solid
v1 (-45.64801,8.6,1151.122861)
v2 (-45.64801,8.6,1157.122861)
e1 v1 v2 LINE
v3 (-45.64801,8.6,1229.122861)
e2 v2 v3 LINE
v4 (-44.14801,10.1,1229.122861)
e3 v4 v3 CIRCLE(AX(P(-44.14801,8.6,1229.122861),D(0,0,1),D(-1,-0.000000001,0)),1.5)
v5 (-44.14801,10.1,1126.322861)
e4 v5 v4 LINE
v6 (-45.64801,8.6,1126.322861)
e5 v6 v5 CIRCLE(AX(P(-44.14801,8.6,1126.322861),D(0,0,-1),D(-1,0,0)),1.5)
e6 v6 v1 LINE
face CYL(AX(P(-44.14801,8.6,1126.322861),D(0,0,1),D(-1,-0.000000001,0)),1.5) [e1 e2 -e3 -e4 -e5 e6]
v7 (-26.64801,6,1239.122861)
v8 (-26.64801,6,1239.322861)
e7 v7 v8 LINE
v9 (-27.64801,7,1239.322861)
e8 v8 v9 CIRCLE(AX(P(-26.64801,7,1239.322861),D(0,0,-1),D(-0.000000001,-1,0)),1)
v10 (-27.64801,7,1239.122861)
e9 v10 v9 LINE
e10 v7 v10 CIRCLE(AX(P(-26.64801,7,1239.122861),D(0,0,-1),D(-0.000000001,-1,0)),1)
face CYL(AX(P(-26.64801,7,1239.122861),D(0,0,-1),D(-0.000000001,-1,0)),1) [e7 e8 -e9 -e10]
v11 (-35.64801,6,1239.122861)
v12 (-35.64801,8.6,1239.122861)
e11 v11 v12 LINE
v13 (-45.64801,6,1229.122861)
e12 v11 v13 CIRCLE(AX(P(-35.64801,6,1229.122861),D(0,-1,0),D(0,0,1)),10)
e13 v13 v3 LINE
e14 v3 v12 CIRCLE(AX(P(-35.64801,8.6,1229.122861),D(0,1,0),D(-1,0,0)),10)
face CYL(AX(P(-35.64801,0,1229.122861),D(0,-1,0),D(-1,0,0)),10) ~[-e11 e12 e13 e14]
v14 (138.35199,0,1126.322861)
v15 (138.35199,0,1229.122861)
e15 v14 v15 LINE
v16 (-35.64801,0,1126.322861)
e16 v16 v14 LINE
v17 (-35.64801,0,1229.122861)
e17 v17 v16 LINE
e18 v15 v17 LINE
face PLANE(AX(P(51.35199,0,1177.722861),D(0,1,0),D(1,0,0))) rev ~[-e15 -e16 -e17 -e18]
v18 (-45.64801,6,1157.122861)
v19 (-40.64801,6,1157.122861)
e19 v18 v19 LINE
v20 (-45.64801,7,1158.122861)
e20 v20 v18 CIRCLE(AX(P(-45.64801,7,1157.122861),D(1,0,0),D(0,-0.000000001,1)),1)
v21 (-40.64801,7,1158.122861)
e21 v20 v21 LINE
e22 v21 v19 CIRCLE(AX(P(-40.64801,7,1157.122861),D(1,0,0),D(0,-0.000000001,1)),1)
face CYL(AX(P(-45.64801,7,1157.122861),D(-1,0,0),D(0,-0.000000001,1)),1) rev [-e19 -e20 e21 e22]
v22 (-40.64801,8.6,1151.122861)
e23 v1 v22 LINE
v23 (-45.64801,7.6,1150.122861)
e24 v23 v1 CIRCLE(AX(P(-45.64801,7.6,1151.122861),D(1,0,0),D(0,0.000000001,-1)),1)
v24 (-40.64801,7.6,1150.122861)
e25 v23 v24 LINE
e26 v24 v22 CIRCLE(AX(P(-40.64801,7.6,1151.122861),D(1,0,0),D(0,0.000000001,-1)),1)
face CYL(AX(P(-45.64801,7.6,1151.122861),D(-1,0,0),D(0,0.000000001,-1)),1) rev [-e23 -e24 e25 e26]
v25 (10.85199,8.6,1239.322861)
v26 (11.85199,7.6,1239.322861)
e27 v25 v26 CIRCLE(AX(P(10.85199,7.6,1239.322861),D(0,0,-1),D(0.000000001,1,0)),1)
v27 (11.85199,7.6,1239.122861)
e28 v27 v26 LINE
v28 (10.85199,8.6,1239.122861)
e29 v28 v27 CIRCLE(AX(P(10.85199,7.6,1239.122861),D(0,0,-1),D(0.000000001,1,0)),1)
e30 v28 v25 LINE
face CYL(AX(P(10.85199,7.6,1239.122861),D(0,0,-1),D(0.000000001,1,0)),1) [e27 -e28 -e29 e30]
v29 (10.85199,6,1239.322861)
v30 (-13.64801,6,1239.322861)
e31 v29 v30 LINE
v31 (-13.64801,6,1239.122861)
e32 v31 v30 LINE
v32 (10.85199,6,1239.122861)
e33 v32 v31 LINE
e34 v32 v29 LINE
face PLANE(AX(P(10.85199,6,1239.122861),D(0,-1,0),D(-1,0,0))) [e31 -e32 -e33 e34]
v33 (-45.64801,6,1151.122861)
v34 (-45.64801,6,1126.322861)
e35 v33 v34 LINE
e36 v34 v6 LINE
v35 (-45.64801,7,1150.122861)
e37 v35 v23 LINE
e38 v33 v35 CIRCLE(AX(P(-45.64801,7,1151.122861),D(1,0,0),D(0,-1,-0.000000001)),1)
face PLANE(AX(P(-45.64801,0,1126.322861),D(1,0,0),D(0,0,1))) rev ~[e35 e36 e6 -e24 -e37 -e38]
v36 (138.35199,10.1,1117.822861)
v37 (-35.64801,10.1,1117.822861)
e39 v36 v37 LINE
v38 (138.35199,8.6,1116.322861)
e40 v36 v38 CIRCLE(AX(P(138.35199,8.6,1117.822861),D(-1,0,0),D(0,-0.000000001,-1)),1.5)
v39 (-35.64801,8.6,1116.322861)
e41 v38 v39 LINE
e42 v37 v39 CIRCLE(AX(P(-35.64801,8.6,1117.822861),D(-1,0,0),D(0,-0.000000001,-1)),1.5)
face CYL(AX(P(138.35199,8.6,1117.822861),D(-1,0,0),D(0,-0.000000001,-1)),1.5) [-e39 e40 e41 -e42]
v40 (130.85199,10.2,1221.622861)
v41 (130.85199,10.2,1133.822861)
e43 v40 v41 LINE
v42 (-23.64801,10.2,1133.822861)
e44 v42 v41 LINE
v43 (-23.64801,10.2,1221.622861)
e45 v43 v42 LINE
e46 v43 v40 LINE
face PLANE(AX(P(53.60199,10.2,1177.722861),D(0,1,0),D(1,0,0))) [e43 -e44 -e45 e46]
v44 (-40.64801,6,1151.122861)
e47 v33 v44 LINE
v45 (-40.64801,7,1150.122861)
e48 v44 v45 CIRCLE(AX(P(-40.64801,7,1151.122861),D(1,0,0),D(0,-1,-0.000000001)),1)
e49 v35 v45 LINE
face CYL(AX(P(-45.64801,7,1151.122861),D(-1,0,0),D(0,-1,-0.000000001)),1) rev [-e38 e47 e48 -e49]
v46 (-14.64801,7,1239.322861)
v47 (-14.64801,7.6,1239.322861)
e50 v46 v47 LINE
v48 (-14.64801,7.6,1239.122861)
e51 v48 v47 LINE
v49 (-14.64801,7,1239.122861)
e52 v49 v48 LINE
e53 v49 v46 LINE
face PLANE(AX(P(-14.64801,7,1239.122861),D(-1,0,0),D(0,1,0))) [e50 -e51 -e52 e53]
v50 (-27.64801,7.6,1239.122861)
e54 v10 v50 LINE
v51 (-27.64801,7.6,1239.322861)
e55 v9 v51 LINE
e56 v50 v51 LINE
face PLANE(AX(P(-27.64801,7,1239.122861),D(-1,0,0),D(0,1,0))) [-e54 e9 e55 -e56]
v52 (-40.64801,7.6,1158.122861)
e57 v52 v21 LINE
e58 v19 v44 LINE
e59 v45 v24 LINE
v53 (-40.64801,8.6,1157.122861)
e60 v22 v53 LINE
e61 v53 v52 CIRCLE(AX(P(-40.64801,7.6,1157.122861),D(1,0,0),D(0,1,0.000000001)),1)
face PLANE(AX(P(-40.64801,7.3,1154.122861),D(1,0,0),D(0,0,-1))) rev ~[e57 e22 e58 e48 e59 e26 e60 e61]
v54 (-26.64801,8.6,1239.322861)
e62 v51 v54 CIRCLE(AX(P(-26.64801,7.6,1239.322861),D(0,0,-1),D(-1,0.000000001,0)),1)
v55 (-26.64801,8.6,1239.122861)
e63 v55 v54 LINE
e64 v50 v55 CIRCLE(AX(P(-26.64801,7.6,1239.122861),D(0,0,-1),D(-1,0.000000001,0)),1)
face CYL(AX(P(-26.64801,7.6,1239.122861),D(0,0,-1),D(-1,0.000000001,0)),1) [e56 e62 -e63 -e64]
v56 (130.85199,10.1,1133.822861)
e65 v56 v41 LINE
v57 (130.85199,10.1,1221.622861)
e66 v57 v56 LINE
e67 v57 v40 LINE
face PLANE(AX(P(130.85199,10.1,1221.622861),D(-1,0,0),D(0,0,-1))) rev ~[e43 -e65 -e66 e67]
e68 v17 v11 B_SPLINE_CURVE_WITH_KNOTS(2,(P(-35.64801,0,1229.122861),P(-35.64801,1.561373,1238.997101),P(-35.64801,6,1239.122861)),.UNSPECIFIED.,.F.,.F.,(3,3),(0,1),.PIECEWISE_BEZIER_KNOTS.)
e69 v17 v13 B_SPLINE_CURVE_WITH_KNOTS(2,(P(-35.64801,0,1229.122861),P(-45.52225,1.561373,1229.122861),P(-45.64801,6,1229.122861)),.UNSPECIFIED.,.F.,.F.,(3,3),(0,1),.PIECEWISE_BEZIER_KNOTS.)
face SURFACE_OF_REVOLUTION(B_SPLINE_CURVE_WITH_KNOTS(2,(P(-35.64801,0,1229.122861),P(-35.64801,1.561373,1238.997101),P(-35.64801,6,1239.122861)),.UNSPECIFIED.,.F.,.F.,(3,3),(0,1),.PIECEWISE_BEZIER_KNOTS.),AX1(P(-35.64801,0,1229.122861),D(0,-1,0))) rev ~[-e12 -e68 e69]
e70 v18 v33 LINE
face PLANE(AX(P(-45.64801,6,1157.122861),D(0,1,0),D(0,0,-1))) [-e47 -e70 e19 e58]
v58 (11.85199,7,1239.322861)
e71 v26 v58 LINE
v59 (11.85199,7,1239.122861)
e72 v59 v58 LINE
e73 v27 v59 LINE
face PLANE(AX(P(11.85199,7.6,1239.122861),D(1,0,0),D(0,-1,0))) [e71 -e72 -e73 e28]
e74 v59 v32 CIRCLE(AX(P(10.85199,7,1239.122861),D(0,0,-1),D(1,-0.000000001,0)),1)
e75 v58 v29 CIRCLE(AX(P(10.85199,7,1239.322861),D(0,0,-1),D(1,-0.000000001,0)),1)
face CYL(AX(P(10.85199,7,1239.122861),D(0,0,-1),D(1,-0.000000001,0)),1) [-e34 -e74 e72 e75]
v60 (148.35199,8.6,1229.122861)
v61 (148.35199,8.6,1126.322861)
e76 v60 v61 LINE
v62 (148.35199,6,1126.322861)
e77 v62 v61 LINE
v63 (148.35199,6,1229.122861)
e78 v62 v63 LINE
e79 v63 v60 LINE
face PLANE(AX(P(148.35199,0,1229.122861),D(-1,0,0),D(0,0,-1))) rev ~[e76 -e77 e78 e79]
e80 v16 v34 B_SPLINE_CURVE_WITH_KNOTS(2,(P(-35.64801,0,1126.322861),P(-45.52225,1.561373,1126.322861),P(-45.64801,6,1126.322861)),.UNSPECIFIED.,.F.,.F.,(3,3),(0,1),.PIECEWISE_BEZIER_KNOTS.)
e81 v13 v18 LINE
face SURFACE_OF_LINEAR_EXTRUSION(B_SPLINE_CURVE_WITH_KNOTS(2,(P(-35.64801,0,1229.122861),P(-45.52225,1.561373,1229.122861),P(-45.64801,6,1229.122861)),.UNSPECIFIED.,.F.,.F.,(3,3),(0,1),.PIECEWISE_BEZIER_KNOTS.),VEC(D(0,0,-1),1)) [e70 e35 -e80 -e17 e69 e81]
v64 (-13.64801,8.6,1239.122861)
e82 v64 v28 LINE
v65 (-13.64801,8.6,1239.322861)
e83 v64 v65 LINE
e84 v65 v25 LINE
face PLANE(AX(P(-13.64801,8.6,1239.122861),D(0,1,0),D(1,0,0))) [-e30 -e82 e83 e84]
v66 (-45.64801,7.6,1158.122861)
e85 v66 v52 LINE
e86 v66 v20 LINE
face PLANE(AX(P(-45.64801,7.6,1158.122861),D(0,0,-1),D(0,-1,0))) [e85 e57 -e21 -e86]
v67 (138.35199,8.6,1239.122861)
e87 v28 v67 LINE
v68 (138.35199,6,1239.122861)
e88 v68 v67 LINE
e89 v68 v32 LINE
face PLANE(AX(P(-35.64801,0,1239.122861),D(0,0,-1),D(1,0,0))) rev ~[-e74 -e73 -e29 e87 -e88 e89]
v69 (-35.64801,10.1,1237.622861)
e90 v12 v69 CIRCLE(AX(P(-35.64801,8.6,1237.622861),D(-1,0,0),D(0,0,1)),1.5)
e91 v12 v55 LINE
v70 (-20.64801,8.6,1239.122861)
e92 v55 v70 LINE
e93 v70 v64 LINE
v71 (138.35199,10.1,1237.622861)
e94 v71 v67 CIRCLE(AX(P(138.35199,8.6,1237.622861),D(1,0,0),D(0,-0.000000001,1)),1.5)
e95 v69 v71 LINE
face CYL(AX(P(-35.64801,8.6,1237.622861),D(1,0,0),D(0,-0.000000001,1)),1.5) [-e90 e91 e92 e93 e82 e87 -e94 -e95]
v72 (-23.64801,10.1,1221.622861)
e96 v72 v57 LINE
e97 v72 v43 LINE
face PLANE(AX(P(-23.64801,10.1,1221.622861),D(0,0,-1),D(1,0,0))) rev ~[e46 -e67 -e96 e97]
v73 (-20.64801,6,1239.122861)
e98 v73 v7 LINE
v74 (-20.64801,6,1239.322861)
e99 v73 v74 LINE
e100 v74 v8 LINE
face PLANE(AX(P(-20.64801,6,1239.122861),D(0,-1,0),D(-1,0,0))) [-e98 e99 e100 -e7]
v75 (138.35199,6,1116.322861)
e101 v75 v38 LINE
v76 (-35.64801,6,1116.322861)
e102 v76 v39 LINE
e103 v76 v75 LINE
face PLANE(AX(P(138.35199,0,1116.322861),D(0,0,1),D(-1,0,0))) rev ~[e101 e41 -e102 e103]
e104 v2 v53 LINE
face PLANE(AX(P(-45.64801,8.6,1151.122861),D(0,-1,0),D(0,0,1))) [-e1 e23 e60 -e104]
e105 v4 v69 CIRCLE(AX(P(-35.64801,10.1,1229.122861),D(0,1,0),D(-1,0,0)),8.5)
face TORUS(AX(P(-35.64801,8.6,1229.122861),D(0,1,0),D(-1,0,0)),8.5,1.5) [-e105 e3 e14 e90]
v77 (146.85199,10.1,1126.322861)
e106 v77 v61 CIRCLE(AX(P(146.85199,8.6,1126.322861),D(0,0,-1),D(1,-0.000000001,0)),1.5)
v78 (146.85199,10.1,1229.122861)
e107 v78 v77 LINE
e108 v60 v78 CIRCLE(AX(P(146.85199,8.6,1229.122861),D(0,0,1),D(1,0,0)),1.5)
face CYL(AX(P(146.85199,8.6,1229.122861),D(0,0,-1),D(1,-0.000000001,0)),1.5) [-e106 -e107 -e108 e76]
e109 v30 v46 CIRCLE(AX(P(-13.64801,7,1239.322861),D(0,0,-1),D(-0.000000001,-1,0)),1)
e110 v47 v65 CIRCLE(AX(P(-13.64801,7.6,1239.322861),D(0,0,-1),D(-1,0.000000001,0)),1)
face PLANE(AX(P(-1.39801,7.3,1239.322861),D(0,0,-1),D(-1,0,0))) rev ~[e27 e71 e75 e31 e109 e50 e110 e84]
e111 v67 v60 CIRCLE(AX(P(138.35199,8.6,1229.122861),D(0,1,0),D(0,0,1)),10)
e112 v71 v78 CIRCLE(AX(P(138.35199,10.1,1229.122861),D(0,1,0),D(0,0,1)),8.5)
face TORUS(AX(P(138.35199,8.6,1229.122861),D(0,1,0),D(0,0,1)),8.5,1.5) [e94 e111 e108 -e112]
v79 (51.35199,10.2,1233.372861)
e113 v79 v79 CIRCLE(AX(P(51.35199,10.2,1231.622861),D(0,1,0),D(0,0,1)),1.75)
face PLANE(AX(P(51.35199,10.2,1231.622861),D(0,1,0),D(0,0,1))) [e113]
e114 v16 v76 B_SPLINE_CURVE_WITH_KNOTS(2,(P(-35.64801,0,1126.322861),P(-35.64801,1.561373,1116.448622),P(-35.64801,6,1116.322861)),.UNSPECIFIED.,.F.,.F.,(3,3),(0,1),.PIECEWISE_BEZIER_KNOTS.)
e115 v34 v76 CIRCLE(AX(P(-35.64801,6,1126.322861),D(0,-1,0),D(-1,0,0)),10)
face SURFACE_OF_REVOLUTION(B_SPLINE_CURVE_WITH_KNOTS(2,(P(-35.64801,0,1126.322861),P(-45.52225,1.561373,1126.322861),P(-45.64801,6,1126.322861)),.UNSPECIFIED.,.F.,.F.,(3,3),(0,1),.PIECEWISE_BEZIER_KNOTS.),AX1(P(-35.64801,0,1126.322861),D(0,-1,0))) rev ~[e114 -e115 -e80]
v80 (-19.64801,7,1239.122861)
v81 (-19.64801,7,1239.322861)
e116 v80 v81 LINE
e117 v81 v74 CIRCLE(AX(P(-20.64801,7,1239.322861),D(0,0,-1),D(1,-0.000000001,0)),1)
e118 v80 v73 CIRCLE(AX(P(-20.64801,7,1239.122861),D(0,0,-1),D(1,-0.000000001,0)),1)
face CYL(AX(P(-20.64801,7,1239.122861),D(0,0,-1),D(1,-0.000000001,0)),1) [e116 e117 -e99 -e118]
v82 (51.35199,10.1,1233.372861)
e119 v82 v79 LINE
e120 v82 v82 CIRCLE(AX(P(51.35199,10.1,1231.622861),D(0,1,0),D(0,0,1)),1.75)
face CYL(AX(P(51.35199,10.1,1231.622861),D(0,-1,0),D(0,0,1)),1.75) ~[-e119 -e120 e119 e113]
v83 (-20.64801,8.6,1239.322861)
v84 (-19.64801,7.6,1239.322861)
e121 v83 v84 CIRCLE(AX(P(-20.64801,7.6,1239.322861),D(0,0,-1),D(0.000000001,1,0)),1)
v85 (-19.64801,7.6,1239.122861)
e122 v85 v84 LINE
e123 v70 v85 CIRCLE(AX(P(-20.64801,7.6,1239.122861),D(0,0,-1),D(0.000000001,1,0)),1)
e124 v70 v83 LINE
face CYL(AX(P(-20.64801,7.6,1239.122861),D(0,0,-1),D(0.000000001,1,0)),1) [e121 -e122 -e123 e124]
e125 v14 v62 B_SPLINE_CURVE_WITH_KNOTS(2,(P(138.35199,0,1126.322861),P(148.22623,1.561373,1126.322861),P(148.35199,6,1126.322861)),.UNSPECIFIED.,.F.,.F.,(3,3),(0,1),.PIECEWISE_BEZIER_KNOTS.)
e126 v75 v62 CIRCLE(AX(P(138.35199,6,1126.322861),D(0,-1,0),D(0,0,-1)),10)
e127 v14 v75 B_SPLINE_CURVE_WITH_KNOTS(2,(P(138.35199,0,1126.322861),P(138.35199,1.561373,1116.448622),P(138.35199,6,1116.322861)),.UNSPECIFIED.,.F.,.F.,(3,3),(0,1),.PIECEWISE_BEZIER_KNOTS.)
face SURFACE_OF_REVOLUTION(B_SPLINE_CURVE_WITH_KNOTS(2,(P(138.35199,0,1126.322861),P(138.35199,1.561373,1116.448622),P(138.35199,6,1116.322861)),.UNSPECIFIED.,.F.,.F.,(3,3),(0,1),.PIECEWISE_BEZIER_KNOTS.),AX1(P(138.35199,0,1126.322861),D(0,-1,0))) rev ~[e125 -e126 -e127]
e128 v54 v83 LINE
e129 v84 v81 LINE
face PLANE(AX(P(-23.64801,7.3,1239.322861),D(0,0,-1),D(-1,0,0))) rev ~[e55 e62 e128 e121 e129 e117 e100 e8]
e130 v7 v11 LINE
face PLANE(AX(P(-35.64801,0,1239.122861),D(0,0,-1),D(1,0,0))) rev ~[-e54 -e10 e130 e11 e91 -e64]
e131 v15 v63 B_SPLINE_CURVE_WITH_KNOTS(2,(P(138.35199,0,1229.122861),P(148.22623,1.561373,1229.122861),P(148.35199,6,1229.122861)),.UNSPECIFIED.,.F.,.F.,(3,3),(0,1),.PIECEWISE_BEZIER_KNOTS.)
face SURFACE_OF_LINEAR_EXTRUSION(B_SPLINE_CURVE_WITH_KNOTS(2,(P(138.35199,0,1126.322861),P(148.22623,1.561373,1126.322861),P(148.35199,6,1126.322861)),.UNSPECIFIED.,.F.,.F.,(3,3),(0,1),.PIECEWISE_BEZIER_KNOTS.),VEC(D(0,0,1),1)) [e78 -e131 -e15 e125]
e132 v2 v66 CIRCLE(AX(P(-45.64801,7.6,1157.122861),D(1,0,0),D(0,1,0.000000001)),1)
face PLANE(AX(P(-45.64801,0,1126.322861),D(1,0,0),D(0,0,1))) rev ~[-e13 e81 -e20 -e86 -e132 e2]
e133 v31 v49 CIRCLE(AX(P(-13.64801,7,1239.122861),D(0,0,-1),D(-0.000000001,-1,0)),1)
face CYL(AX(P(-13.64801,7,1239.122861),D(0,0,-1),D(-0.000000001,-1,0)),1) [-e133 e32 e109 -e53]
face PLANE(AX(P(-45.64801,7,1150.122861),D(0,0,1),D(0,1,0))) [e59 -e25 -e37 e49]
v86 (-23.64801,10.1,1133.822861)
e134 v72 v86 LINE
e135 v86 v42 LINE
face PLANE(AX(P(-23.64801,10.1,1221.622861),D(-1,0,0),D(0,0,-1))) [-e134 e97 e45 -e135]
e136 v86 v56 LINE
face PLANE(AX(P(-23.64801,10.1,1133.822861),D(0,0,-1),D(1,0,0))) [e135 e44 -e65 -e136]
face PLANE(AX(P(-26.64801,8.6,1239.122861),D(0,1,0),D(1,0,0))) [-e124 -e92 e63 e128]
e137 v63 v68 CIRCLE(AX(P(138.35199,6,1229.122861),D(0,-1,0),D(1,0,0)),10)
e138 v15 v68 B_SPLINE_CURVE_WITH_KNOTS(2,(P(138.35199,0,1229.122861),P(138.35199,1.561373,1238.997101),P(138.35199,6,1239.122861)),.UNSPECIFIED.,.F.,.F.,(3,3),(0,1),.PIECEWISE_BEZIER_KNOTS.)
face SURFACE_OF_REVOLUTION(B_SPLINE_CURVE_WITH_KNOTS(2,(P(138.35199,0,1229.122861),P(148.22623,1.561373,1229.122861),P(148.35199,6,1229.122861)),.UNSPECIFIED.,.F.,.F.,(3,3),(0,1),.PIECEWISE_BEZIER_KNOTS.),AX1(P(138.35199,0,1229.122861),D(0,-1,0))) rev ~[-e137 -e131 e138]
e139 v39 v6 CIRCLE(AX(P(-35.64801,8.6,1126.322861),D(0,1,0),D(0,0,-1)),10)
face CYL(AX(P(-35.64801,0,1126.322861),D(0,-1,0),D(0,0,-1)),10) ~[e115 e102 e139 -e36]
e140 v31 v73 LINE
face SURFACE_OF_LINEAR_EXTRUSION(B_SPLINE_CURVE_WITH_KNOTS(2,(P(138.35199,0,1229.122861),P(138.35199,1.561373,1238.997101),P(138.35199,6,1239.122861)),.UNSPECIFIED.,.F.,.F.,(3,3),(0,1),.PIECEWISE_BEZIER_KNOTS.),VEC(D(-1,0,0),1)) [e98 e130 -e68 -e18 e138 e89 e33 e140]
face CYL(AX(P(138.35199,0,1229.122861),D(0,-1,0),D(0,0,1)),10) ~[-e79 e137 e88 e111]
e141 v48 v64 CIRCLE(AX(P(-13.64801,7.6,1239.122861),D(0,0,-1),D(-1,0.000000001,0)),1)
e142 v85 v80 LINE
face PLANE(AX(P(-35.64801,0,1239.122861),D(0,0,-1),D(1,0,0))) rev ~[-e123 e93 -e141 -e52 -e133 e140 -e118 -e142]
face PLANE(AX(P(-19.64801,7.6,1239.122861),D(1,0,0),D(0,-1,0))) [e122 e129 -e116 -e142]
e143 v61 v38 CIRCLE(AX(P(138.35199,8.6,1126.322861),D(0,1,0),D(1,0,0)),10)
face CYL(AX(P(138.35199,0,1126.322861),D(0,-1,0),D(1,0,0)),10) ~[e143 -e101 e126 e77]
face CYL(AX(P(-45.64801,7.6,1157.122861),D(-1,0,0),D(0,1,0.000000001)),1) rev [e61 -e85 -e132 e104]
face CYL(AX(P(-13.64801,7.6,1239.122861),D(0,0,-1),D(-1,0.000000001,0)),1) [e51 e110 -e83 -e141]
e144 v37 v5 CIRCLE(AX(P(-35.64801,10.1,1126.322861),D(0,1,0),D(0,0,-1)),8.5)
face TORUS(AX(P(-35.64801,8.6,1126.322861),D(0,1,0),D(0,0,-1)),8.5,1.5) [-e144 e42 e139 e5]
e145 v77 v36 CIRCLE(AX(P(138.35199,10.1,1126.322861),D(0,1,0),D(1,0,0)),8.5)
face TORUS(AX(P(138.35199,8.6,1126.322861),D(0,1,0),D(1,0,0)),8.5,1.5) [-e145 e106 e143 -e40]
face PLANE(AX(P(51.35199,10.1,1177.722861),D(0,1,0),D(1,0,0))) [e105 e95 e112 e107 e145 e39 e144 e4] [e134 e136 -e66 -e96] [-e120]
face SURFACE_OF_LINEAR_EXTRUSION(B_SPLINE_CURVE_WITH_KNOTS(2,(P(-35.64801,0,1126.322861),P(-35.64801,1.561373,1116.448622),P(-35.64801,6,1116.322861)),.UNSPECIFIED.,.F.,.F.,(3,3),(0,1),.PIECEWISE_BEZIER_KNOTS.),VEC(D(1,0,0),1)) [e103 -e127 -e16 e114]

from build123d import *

# Parameters (mm, degrees)
DODANIE_WYCI_GNI_CIE1_DEPTH = 10.1
DODANIE_WYCI_GNI_CIE2_DEPTH = 0.2
DODANIE_WYCI_GNI_CIE3_DEPTH = 0.2
WYTNIJ_WYCI_GNI_CIE1_DEPTH  = 5
SZKIC10_W                   = 154.5
SZKIC10_H                   = 87.8
DODANIE_WYCI_GNI_CIE4_DEPTH = 0.1
SZKIC9_R                    = 1.75
DODANIE_WYCI_GNI_CIE5_DEPTH = 0.1


with BuildPart() as part:
    # Szkic1 → Dodanie-wyciągnięcie1 (new body)
    with BuildSketch(Plane(origin=(0, 0, 0), x_dir=(1, 0, 0), z_dir=(0, 1, 0))):
        with BuildLine():
            Line((-45.648009954, -1126.322861225), (-45.648009954, -1229.122861225))
            ThreePointArc((-45.648009954, -1229.122861225), (-42.719077766, -1236.193929037), (-35.648009954, -1239.122861225))
            Line((-35.648009954, -1239.122861225), (138.351990046, -1239.122861225))
            ThreePointArc((138.351990046, -1239.122861225), (145.423057858, -1236.193929037), (148.351990046, -1229.122861225))
            Line((148.351990046, -1229.122861225), (148.351990046, -1126.322861225))
            ThreePointArc((148.351990046, -1126.322861225), (145.423057858, -1119.251793413), (138.351990046, -1116.322861225))
            Line((138.351990046, -1116.322861225), (-35.648009954, -1116.322861225))
            ThreePointArc((-35.648009954, -1116.322861225), (-42.719077766, -1119.251793413), (-45.648009954, -1126.322861225))
        make_face()
    extrude(amount=DODANIE_WYCI_GNI_CIE1_DEPTH)

    # Wycięcie-wyciągnięcie po ścieżce1: sweep along a path in Szkic3
    with BuildLine(Plane(origin=(0, 10.1, 0), x_dir=(1, 0, 0), z_dir=(0, 1, 0))) as wyci_cie_wyci_gni_cie_po_cie_ce1_path:
        Line((138.351990046, -1116.322861225), (-35.648009954, -1116.322861225))
        ThreePointArc((-35.648009954, -1116.322861225), (-42.719077766, -1119.251793413), (-45.648009954, -1126.322861225))
        Line((-45.648009954, -1126.322861225), (-45.648009954, -1229.122861225))
        ThreePointArc((-45.648009954, -1229.122861225), (-42.719077766, -1236.193929037), (-35.648009954, -1239.122861225))
        Line((-35.648009954, -1239.122861225), (138.351990046, -1239.122861225))
        ThreePointArc((138.351990046, -1239.122861225), (145.423057858, -1236.193929037), (148.351990046, -1229.122861225))
        Line((148.351990046, -1229.122861225), (148.351990046, -1126.322861225))
        ThreePointArc((148.351990046, -1126.322861225), (145.423057858, -1119.251793413), (138.351990046, -1116.322861225))
    # Szkic2 → Wycięcie-wyciągnięcie po ścieżce1 (sweep, cut)
    with BuildSketch(Plane.ZY.offset(35.648009954)):
        with BuildLine():
            Line((1116.322861225, 10.1), (1116.322861225, 8.6))
            ThreePointArc((1116.322861225, 8.6), (1116.762201053, 9.660660172), (1117.822861225, 10.1))
            Line((1117.822861225, 10.1), (1116.322861225, 10.1))
        make_face()
    sweep(path=wyci_cie_wyci_gni_cie_po_cie_ce1_path.line, mode=Mode.SUBTRACT)

    # Wycięcie-wyciągnięcie po ścieżce2: sweep along a path in Szkic4
    with BuildLine(Plane.XZ) as wyci_cie_wyci_gni_cie_po_cie_ce2_path:
        Line((138.351990046, 1239.122861225), (-35.648009954, 1239.122861225))
        ThreePointArc((-35.648009954, 1239.122861225), (-42.719077766, 1236.193929037), (-45.648009954, 1229.122861225))
        Line((-45.648009954, 1229.122861225), (-45.648009954, 1126.322861225))
        ThreePointArc((-45.648009954, 1126.322861225), (-42.719077766, 1119.251793413), (-35.648009954, 1116.322861225))
        Line((-35.648009954, 1116.322861225), (138.351990046, 1116.322861225))
        ThreePointArc((138.351990046, 1116.322861225), (145.423057858, 1119.251793413), (148.351990046, 1126.322861225))
        Line((148.351990046, 1126.322861225), (148.351990046, 1229.122861225))
        ThreePointArc((148.351990046, 1229.122861225), (145.423057858, 1236.193929037), (138.351990046, 1239.122861225))
    # Szkic5 → Wycięcie-wyciągnięcie po ścieżce2 (sweep, cut)
    with BuildSketch(Plane.ZY.offset(35.648009954)):
        with BuildLine():
            Line((1116.322861225, 0), (1116.322861225, 6))
            add(Edge.make_bspline(
                [(1116.322861225, 6), (1116.448621512, 1.561373174), (1126.322861225, 0)],
                knots=[0, 0, 0, 1, 1, 1], degree=2))
            Line((1126.322861225, 0), (1116.322861225, 0))
        make_face()
    sweep(path=wyci_cie_wyci_gni_cie_po_cie_ce2_path.line, mode=Mode.SUBTRACT)

    # Szkic6 → Dodanie-wyciągnięcie2 (add)
    with BuildSketch(Plane.XY.offset(1239.122861225)):
        with BuildLine():
            Line((-26.648009954, 8.6), (-20.648009954, 8.6))
            ThreePointArc((-20.648009954, 8.6), (-19.940903173, 8.307106781), (-19.648009954, 7.6))
            Line((-19.648009954, 7.6), (-19.648009954, 7))
            ThreePointArc((-19.648009954, 7), (-19.940903173, 6.292893219), (-20.648009954, 6))
            Line((-20.648009954, 6), (-26.648009954, 6))
            ThreePointArc((-26.648009954, 6), (-27.355116735, 6.292893219), (-27.648009954, 7))
            Line((-27.648009954, 7), (-27.648009954, 7.6))
            ThreePointArc((-27.648009954, 7.6), (-27.355116735, 8.307106781), (-26.648009954, 8.6))
        make_face()
    extrude(amount=DODANIE_WYCI_GNI_CIE2_DEPTH)

    # Szkic7 → Dodanie-wyciągnięcie3 (add)
    with BuildSketch(Plane.XY.offset(1239.122861225)):
        with BuildLine():
            Line((-13.648009954, 8.6), (10.851990046, 8.6))
            ThreePointArc((10.851990046, 8.6), (11.559096827, 8.307106781), (11.851990046, 7.6))
            Line((11.851990046, 7.6), (11.851990046, 7))
            ThreePointArc((11.851990046, 7), (11.559096827, 6.292893219), (10.851990046, 6))
            Line((10.851990046, 6), (-13.648009954, 6))
            ThreePointArc((-13.648009954, 6), (-14.355116735, 6.292893219), (-14.648009954, 7))
            Line((-14.648009954, 7), (-14.648009954, 7.6))
            ThreePointArc((-14.648009954, 7.6), (-14.355116735, 8.307106781), (-13.648009954, 8.6))
        make_face()
    extrude(amount=DODANIE_WYCI_GNI_CIE3_DEPTH)

    # Szkic8 → Wytnij-wyciągnięcie1 (cut)
    with BuildSketch(Plane.ZY.offset(45.648009954)):
        with BuildLine():
            Line((1151.122861225, 8.6), (1157.122861225, 8.6))
            ThreePointArc((1157.122861225, 8.6), (1157.829968006, 8.307106781), (1158.122861225, 7.6))
            Line((1158.122861225, 7.6), (1158.122861225, 7))
            ThreePointArc((1158.122861225, 7), (1157.829968006, 6.292893219), (1157.122861225, 6))
            Line((1157.122861225, 6), (1151.122861225, 6))
            ThreePointArc((1151.122861225, 6), (1150.415754444, 6.292893219), (1150.122861225, 7))
            Line((1150.122861225, 7), (1150.122861225, 7.6))
            ThreePointArc((1150.122861225, 7.6), (1150.415754444, 8.307106781), (1151.122861225, 8.6))
        make_face()
    extrude(amount=-WYTNIJ_WYCI_GNI_CIE1_DEPTH, mode=Mode.SUBTRACT)

    # Szkic10 → Dodanie-wyciągnięcie4 (add)
    with BuildSketch(Plane(origin=(0, 10.1, 0), x_dir=(1, 0, 0), z_dir=(0, 1, 0))):
        with Locations((53.601990046, -1177.722861225)):
            Rectangle(SZKIC10_W, SZKIC10_H)
    extrude(amount=DODANIE_WYCI_GNI_CIE4_DEPTH)

    # Szkic9 → Dodanie-wyciągnięcie5 (add)
    with BuildSketch(Plane(origin=(0, 10.1, 0), x_dir=(1, 0, 0), z_dir=(0, 1, 0))):
        with Locations(Location((51.351990046, -1231.622861225, 0), (0, 0, 270))):
            Circle(SZKIC9_R)
    extrude(amount=DODANIE_WYCI_GNI_CIE5_DEPTH)


solid = part.part
